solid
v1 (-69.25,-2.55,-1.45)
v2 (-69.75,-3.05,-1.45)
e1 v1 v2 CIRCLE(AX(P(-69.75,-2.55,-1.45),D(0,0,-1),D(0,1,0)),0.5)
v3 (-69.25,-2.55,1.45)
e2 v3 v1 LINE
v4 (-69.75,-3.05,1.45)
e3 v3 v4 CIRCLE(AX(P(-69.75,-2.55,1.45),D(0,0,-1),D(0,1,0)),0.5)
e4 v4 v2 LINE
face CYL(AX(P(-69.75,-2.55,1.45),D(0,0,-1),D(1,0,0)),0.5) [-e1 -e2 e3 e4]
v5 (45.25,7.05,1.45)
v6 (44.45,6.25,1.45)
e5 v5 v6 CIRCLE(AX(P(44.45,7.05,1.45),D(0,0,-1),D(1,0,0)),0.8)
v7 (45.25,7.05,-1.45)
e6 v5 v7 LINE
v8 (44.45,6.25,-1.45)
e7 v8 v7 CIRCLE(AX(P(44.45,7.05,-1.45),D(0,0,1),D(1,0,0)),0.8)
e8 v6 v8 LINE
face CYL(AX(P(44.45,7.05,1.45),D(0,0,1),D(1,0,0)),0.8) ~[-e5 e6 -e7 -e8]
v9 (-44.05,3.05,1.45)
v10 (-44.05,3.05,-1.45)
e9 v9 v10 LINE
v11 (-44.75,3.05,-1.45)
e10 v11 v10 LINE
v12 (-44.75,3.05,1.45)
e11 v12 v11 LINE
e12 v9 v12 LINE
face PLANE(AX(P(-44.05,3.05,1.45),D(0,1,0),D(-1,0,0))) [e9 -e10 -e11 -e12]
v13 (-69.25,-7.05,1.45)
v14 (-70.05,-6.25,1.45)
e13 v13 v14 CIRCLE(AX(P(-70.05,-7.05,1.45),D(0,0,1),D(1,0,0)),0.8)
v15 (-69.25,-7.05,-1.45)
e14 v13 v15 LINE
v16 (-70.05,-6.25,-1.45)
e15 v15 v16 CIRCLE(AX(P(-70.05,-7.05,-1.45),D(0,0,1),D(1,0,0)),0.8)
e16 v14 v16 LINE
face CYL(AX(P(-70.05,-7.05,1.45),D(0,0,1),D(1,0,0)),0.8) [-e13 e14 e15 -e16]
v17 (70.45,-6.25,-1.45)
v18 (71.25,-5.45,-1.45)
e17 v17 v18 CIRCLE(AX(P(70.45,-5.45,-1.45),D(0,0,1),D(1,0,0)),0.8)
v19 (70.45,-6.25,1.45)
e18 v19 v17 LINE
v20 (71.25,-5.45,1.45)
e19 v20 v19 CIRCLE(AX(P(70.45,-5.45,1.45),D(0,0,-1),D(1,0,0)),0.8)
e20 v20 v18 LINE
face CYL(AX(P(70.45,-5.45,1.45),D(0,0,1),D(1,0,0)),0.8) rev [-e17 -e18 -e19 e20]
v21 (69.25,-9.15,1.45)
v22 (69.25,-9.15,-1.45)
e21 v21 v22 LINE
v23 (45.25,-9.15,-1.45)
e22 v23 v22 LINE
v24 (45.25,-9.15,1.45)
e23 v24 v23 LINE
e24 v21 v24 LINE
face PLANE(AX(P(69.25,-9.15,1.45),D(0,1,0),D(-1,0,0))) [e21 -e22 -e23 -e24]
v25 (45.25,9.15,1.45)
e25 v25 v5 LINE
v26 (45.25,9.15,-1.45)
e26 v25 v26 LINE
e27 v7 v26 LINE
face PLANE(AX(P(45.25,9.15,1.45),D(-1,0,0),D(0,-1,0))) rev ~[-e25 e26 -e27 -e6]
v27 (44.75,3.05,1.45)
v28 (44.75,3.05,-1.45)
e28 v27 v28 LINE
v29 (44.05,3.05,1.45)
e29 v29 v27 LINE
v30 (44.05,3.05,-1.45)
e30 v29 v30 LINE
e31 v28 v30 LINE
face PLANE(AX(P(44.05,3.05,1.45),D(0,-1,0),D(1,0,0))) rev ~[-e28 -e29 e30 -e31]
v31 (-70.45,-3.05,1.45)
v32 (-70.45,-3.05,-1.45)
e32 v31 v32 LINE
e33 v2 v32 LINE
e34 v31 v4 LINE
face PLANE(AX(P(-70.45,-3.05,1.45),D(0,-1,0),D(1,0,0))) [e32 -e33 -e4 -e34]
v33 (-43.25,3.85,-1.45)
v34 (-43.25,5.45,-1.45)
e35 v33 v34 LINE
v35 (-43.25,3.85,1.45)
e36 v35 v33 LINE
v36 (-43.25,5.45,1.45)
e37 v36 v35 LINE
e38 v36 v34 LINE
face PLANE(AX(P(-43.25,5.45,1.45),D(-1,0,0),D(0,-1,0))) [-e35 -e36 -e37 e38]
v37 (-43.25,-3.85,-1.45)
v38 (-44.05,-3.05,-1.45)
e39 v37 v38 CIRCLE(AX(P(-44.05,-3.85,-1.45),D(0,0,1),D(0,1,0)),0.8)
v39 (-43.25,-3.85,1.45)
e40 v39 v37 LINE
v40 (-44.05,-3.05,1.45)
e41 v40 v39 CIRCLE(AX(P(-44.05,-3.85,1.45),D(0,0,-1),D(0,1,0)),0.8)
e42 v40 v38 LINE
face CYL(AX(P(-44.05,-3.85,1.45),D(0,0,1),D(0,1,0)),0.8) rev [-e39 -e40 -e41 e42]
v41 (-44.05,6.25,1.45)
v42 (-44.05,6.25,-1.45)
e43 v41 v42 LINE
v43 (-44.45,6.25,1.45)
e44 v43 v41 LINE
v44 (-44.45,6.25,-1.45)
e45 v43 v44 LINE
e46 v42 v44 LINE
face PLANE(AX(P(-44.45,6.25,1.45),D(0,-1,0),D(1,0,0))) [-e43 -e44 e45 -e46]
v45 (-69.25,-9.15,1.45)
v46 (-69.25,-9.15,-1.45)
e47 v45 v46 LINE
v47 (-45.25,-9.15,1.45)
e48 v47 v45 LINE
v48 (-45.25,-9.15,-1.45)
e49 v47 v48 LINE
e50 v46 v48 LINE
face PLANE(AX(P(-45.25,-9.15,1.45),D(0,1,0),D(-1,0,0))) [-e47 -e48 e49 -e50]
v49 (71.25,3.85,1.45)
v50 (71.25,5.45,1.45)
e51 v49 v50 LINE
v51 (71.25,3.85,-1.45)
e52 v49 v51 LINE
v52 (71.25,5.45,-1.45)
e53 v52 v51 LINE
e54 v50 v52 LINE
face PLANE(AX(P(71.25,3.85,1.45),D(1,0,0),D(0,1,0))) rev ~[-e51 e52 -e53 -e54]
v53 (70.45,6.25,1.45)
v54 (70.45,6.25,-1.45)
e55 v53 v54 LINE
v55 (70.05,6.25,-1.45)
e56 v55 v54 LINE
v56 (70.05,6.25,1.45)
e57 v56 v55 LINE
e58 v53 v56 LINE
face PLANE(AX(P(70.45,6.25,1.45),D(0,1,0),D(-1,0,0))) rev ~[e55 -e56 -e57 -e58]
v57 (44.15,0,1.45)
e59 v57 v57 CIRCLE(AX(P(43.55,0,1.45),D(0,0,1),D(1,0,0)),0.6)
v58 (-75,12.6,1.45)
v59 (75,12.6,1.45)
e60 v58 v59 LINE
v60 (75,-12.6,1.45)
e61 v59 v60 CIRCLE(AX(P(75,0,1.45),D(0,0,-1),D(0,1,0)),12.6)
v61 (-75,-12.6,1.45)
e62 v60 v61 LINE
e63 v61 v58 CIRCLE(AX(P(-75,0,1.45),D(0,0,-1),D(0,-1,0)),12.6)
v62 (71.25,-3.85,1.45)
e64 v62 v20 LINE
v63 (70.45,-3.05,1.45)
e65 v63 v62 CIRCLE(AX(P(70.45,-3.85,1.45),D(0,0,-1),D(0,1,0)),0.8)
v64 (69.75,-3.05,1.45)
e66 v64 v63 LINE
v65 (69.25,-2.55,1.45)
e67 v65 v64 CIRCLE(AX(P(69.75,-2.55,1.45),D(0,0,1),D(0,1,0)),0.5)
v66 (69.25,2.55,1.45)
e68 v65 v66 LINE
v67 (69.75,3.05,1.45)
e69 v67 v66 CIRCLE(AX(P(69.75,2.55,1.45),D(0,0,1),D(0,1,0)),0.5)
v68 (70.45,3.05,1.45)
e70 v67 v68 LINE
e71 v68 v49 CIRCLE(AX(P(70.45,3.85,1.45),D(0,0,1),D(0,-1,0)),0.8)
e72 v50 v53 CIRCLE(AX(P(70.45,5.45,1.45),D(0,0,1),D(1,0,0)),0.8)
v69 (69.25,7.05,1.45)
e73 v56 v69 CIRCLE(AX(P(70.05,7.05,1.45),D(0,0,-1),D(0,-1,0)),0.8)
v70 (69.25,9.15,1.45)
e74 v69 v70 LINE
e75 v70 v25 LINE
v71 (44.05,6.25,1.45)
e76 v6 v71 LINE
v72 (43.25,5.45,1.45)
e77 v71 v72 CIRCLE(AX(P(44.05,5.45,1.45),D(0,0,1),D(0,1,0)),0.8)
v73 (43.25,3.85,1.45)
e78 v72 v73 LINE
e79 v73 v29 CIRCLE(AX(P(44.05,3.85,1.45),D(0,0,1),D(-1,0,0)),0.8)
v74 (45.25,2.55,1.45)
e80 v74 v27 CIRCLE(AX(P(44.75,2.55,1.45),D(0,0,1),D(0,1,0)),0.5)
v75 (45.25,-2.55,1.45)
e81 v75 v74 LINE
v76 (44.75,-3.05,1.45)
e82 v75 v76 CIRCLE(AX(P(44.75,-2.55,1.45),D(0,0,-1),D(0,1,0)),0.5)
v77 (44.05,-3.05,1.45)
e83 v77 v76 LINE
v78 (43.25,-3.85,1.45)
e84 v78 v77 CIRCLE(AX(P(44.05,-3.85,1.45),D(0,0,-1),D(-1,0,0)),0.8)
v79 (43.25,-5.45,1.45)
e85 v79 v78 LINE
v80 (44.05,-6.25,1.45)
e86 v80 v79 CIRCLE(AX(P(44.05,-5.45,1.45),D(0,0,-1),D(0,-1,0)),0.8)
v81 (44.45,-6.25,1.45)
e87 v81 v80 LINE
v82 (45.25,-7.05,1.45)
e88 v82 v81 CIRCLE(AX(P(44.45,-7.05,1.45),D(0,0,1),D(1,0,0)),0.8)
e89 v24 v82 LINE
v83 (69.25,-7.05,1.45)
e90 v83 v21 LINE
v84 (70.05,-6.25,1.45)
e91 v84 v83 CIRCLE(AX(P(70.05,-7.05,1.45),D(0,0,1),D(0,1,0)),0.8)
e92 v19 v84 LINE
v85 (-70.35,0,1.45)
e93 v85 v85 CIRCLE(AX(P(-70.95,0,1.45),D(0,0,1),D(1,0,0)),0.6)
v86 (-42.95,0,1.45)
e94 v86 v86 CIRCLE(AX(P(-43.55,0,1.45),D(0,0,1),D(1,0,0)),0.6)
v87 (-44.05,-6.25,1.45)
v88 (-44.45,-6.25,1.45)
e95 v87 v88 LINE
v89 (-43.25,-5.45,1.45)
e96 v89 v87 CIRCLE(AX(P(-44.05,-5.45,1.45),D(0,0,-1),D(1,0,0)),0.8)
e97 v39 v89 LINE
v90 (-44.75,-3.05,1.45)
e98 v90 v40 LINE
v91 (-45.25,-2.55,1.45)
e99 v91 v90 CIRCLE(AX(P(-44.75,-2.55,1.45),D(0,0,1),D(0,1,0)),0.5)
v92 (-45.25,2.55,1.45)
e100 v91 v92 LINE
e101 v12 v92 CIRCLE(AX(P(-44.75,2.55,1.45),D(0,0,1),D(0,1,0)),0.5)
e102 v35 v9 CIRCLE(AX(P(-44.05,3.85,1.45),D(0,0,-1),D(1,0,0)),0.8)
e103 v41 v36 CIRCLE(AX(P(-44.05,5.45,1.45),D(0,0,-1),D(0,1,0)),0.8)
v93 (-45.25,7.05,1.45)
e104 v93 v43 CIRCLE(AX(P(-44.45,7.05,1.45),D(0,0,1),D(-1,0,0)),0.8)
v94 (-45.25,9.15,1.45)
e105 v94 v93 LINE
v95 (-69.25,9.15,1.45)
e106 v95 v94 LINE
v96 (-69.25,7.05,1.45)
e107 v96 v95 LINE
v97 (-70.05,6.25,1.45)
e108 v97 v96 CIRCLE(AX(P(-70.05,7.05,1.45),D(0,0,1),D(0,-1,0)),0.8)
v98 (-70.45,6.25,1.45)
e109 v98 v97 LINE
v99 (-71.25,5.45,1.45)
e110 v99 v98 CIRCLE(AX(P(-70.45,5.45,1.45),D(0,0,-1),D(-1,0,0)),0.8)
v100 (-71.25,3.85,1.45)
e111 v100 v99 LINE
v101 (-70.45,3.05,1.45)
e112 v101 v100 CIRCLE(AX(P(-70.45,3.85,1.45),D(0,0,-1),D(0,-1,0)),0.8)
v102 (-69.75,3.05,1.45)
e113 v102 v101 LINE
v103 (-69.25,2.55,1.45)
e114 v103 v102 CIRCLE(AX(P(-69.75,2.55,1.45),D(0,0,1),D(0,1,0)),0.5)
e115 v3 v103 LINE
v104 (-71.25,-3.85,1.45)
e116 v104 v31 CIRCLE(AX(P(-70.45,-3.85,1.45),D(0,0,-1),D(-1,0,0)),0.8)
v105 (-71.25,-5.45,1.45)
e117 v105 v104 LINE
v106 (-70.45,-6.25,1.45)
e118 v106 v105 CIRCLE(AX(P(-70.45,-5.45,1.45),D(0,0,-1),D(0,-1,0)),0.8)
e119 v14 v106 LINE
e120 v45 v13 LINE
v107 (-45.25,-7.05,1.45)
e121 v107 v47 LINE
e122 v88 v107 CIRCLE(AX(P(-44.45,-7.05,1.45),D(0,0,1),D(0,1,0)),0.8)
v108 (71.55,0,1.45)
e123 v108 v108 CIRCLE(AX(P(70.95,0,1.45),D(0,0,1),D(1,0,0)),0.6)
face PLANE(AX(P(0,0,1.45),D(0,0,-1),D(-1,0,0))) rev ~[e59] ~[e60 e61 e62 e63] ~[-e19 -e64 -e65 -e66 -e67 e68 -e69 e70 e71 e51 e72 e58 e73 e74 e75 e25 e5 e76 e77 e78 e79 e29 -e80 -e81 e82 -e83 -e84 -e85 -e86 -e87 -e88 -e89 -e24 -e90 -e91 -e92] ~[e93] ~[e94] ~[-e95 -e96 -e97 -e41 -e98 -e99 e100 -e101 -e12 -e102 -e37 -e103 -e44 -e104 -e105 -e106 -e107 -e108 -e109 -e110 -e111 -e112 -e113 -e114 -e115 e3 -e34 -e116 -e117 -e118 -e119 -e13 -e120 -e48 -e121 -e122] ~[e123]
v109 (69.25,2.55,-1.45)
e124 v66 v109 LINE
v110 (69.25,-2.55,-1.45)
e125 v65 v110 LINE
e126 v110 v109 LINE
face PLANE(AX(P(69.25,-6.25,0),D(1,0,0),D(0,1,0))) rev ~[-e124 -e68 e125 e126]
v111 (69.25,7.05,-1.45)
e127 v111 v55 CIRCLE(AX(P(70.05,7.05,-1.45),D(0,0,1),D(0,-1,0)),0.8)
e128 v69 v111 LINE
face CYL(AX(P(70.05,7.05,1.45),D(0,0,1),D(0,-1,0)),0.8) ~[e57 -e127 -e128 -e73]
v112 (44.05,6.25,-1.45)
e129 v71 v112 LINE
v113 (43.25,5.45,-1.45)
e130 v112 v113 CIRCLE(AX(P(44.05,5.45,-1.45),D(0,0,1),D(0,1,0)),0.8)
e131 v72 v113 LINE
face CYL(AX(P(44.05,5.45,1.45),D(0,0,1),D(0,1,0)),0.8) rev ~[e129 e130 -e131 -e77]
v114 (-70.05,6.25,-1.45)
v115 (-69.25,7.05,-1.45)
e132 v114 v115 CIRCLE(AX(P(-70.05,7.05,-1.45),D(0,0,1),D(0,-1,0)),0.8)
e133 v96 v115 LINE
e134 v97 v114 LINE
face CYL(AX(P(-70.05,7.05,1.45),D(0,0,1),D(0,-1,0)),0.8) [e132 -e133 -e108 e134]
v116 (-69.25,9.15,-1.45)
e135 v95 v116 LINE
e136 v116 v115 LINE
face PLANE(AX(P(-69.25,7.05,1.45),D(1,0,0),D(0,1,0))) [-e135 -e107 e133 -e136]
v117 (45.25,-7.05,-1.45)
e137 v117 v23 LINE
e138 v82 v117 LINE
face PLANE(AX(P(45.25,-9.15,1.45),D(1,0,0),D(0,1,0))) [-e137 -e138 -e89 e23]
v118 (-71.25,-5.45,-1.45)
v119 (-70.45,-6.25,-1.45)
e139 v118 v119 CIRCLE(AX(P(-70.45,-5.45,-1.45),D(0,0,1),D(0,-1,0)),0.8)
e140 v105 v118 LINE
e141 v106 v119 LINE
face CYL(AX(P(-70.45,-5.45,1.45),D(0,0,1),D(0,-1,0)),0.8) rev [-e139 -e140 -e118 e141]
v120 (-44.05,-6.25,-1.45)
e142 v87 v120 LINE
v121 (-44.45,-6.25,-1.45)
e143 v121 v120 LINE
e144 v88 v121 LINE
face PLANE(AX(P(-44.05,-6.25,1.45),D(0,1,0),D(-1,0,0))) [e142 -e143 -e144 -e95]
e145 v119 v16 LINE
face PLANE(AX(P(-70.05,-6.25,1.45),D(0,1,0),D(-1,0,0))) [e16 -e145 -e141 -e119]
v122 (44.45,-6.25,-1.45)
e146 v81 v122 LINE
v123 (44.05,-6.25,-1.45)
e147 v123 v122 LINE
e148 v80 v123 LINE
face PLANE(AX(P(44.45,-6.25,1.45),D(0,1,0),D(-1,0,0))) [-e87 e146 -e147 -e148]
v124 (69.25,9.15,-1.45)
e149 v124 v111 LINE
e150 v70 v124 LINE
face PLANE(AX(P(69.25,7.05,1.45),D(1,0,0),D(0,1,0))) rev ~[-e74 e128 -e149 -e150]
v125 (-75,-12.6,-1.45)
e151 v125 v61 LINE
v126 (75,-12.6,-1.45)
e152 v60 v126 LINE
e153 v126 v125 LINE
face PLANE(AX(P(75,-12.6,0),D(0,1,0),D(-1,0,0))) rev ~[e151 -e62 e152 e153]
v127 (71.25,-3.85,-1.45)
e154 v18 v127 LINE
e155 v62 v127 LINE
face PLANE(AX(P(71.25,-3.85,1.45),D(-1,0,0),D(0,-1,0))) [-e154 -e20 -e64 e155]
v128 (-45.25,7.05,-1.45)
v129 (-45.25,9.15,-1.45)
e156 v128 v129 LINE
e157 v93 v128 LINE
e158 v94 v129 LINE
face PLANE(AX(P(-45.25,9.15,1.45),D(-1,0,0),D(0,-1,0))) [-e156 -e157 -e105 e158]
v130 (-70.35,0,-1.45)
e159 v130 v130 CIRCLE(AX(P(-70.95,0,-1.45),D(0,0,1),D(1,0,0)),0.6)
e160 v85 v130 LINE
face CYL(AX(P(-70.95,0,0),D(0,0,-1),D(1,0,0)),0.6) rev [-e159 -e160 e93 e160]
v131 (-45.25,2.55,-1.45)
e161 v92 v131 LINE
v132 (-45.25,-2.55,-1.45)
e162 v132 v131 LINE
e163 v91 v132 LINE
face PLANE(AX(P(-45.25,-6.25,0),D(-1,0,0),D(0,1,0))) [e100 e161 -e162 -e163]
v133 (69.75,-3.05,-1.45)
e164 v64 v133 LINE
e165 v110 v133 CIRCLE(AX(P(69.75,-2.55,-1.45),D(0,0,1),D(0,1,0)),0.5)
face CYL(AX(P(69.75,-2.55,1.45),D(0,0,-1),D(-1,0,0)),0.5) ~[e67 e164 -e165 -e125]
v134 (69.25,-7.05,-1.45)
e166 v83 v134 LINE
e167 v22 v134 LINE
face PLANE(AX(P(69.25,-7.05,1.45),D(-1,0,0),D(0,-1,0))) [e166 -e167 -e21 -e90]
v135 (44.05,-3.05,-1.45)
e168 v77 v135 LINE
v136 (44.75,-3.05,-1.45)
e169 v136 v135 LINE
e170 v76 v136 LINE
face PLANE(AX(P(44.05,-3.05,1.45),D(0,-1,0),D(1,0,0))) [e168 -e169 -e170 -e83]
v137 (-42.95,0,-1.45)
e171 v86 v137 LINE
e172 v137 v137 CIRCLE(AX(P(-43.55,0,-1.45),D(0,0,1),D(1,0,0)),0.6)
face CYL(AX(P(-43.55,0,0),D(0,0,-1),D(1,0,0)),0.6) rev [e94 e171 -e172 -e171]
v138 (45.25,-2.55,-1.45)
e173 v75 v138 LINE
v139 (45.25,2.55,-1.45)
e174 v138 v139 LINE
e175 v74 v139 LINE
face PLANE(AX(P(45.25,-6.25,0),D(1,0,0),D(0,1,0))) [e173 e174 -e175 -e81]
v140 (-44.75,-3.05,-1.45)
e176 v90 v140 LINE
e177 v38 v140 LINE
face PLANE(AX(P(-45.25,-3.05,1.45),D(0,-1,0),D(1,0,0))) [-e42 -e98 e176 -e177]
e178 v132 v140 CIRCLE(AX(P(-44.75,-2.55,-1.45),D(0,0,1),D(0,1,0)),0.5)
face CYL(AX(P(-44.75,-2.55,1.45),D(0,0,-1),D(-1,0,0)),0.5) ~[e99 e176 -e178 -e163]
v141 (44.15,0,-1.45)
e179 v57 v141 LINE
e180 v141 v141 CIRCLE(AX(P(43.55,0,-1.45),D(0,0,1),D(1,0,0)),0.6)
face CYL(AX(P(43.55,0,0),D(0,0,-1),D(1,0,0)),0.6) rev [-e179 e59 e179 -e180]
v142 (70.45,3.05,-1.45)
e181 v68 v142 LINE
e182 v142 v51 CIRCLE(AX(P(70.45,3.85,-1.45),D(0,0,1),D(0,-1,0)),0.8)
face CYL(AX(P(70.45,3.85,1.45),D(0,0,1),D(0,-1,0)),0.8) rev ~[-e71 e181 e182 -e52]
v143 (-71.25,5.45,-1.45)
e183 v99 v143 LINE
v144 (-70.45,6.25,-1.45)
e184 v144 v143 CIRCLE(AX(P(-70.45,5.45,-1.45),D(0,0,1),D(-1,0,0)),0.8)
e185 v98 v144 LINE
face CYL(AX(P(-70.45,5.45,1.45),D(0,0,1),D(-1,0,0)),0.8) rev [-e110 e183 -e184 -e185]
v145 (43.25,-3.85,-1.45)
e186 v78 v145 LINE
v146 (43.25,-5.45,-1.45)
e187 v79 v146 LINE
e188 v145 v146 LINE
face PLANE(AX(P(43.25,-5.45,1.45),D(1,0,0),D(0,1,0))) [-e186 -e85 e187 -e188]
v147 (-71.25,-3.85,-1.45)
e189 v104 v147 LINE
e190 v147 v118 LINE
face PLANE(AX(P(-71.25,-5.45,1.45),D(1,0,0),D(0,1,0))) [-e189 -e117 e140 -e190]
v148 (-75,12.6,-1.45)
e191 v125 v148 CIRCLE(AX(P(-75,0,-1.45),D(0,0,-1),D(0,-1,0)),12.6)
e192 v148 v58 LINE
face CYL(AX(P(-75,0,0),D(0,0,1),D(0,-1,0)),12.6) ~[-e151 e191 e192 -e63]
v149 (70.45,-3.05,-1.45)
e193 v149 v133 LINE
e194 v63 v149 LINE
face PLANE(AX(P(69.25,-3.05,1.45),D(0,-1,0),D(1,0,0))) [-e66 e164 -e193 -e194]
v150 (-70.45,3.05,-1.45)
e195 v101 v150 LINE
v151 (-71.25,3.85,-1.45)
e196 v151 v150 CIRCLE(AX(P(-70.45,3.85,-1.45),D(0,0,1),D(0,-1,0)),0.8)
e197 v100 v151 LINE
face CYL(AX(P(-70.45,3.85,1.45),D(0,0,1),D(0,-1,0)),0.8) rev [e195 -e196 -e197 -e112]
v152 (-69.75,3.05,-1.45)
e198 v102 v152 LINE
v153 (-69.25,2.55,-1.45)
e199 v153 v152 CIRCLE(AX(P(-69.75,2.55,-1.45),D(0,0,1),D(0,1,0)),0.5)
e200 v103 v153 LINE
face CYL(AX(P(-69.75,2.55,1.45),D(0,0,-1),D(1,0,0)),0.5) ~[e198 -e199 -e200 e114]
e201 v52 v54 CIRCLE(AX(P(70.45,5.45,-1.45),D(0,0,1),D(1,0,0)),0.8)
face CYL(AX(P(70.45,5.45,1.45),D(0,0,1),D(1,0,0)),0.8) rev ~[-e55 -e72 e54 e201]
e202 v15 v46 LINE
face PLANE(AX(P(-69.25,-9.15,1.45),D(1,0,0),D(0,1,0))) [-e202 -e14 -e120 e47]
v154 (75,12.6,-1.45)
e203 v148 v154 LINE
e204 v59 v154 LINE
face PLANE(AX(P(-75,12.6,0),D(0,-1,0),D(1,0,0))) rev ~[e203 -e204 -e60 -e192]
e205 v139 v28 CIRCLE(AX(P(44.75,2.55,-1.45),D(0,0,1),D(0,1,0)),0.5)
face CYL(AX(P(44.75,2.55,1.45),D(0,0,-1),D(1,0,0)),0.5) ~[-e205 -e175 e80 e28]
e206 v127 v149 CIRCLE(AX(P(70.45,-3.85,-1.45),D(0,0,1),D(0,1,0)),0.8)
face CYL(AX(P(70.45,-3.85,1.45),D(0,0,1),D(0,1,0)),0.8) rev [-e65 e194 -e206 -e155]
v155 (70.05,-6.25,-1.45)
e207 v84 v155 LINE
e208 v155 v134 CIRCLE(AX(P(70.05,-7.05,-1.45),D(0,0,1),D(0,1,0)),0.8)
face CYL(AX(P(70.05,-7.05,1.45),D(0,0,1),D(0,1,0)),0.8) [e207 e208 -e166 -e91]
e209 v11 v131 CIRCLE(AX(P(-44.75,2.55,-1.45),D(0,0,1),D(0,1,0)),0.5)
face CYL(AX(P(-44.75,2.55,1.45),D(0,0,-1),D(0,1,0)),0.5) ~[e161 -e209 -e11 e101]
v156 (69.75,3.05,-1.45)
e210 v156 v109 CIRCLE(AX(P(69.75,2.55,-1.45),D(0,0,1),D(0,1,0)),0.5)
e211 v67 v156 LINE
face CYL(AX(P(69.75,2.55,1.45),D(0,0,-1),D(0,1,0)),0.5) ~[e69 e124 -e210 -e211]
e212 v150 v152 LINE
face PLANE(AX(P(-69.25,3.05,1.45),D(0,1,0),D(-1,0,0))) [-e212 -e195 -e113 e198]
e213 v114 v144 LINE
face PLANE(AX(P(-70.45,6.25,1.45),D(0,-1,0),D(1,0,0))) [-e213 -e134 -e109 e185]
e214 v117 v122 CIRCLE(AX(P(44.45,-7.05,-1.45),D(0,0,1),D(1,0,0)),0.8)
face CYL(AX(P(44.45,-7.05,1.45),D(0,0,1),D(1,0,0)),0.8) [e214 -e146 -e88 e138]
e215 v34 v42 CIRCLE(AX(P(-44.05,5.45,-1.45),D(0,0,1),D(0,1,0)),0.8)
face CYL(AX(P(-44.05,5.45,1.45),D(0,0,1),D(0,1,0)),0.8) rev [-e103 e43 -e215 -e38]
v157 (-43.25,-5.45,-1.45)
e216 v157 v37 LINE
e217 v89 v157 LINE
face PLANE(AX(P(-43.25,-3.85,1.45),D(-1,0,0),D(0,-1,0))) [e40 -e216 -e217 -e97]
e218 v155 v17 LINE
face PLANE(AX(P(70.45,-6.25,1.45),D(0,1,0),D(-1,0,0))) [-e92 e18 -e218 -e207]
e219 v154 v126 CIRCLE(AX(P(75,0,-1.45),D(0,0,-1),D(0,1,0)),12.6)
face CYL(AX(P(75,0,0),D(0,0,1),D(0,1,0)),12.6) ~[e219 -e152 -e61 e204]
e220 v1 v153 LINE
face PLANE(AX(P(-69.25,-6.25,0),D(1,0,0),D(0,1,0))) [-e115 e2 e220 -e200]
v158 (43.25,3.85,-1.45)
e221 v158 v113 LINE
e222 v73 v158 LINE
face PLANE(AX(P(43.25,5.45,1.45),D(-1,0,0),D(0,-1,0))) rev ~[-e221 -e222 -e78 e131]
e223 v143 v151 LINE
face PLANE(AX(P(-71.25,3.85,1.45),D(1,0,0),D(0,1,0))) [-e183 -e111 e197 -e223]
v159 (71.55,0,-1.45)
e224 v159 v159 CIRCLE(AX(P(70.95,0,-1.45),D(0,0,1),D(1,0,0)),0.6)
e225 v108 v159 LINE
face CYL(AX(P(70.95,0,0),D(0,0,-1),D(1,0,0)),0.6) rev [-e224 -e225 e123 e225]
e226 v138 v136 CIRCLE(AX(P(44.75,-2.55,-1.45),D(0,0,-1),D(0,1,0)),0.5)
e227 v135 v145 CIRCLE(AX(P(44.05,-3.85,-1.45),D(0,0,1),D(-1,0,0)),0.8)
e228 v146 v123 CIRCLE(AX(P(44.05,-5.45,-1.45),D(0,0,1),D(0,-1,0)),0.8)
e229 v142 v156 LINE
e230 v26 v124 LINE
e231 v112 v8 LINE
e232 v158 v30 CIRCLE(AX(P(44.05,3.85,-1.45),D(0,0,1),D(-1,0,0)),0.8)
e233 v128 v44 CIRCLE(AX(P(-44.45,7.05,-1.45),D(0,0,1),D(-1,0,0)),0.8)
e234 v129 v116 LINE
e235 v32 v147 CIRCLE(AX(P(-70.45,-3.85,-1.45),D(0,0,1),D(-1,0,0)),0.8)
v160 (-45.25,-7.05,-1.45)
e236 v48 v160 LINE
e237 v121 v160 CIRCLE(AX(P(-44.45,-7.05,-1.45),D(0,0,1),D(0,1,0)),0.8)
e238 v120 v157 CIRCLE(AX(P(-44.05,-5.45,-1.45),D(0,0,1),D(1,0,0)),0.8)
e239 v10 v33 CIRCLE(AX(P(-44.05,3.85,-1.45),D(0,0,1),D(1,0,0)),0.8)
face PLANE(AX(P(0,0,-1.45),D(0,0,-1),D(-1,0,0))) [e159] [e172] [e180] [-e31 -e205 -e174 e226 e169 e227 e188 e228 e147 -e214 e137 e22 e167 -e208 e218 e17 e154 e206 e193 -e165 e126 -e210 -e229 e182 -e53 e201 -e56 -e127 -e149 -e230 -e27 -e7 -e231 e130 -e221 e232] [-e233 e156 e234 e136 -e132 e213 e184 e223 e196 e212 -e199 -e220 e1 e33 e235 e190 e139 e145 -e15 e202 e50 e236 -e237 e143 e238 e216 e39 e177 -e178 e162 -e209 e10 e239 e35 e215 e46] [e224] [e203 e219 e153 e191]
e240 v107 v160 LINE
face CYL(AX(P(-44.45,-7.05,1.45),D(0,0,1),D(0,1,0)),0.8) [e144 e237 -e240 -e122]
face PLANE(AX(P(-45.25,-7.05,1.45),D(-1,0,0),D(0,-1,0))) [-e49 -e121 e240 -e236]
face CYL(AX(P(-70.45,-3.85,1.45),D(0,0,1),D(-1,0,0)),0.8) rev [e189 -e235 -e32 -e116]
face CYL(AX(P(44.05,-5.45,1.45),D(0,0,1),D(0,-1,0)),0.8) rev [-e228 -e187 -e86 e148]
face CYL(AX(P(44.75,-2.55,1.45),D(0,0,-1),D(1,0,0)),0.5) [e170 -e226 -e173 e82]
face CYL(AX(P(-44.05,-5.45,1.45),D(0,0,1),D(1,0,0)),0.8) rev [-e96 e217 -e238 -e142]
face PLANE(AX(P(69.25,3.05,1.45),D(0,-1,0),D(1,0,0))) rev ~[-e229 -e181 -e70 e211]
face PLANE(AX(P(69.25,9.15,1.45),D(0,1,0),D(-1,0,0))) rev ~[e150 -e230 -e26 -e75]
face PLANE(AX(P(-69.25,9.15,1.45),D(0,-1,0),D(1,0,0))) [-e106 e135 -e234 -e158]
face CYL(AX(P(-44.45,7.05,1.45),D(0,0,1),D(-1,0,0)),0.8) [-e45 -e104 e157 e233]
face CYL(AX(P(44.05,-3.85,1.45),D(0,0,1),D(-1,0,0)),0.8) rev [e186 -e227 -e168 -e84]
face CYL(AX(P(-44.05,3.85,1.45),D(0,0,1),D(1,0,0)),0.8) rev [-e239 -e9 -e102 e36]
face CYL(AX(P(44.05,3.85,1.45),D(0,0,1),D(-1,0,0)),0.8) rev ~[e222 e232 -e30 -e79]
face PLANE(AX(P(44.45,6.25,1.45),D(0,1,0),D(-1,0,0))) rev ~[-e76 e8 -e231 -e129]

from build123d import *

# Parameters (mm, degrees)
SKETCH_1_R          = 0.6
SKETCH_1_W          = 24
SKETCH_1_H          = 12.5
EXTRUDE_1_DEPTH     = 1.45
CUT_EXTRUDE_1_DEPTH = 3
FILLET_1_R          = 0.5


with BuildPart() as part:
    # 草图1 → 凸台-拉伸1 (new body, symmetric)
    with BuildSketch(Plane.XY):
        with BuildLine():
            Line((-75, 12.6), (75, 12.6))
            ThreePointArc((75, 12.6), (87.6, 0), (75, -12.6))
            Line((75, -12.6), (-75, -12.6))
            ThreePointArc((-75, -12.6), (-87.6, 0), (-75, 12.6))
        make_face()
        with Locations((-43.55, 0)):
            Circle(SKETCH_1_R, mode=Mode.SUBTRACT)
        with Locations((-70.95, 0)):
            Circle(SKETCH_1_R, mode=Mode.SUBTRACT)
        with Locations((70.95, 0)):
            Circle(SKETCH_1_R, mode=Mode.SUBTRACT)
        with Locations((43.55, 0)):
            Circle(SKETCH_1_R, mode=Mode.SUBTRACT)
        with Locations((-57.25, 0)):
            Rectangle(SKETCH_1_W, SKETCH_1_H, mode=Mode.SUBTRACT)
        with Locations((57.25, 0)):
            Rectangle(SKETCH_1_W, SKETCH_1_H, mode=Mode.SUBTRACT)
    extrude(amount=EXTRUDE_1_DEPTH, both=True)

    # 草图2 → 切除-拉伸1 (cut)
    with BuildSketch(Plane.XY.offset(1.45)):
        with BuildLine():
            Line((44.45, 6.25), (44.05, 6.25))
            ThreePointArc((44.05, 6.25), (43.484314575, 6.015685425), (43.25, 5.45))
            Line((43.25, 5.45), (43.25, 3.85))
            ThreePointArc((43.25, 3.85), (43.484314575, 3.284314575), (44.05, 3.05))
            Line((44.05, 3.05), (45.25, 3.05))
            Line((45.25, 3.05), (45.25, 6.25))
            Line((45.25, 6.25), (69.25, 6.25))
            Line((69.25, 6.25), (69.25, 3.05))
            Line((69.25, 3.05), (70.45, 3.05))
            ThreePointArc((70.45, 3.05), (71.015685425, 3.284314575), (71.25, 3.85))
            Line((71.25, 3.85), (71.25, 5.45))
            ThreePointArc((71.25, 5.45), (71.015685425, 6.015685425), (70.45, 6.25))
            Line((70.45, 6.25), (70.05, 6.25))
            ThreePointArc((70.05, 6.25), (69.484314575, 6.484314575), (69.25, 7.05))
            Line((69.25, 7.05), (69.25, 9.15))
            Line((69.25, 9.15), (45.25, 9.15))
            Line((45.25, 9.15), (45.25, 7.05))
            ThreePointArc((45.25, 7.05), (45.015685425, 6.484314575), (44.45, 6.25))
        make_face()
        with BuildLine():
            Line((44.05, -3.05), (45.25, -3.05))
            Line((45.25, -3.05), (45.25, -6.25))
            Line((45.25, -6.25), (69.25, -6.25))
            Line((69.25, -6.25), (69.25, -3.05))
            Line((69.25, -3.05), (70.45, -3.05))
            ThreePointArc((70.45, -3.05), (71.015685425, -3.284314575), (71.25, -3.85))
            Line((71.25, -3.85), (71.25, -5.45))
            ThreePointArc((71.25, -5.45), (71.015685425, -6.015685425), (70.45, -6.25))
            Line((70.45, -6.25), (70.05, -6.25))
            ThreePointArc((70.05, -6.25), (69.484314575, -6.484314575), (69.25, -7.05))
            Line((69.25, -7.05), (69.25, -9.15))
            Line((69.25, -9.15), (45.25, -9.15))
            Line((45.25, -9.15), (45.25, -7.05))
            ThreePointArc((45.25, -7.05), (45.015685425, -6.484314575), (44.45, -6.25))
            Line((44.45, -6.25), (44.05, -6.25))
            ThreePointArc((44.05, -6.25), (43.484314575, -6.015685425), (43.25, -5.45))
            Line((43.25, -5.45), (43.25, -3.85))
            ThreePointArc((43.25, -3.85), (43.484314575, -3.284314575), (44.05, -3.05))
        make_face()
        with BuildLine():
            Line((-45.25, 3.05), (-45.25, 6.25))
            Line((-45.25, 6.25), (-69.25, 6.25))
            Line((-69.25, 6.25), (-69.25, 3.05))
            Line((-69.25, 3.05), (-70.45, 3.05))
            ThreePointArc((-70.45, 3.05), (-71.015685425, 3.284314575), (-71.25, 3.85))
            Line((-71.25, 3.85), (-71.25, 5.45))
            ThreePointArc((-71.25, 5.45), (-71.015685425, 6.015685425), (-70.45, 6.25))
            Line((-70.45, 6.25), (-70.05, 6.25))
            ThreePointArc((-70.05, 6.25), (-69.484314575, 6.484314575), (-69.25, 7.05))
            Line((-69.25, 7.05), (-69.25, 9.15))
            Line((-69.25, 9.15), (-45.25, 9.15))
            Line((-45.25, 9.15), (-45.25, 7.05))
            ThreePointArc((-45.25, 7.05), (-45.015685425, 6.484314575), (-44.45, 6.25))
            Line((-44.45, 6.25), (-44.05, 6.25))
            ThreePointArc((-44.05, 6.25), (-43.484314575, 6.015685425), (-43.25, 5.45))
            Line((-43.25, 5.45), (-43.25, 3.85))
            ThreePointArc((-43.25, 3.85), (-43.484314575, 3.284314575), (-44.05, 3.05))
            Line((-44.05, 3.05), (-45.25, 3.05))
        make_face()
        with BuildLine():
            Line((-45.25, -7.05), (-45.25, -9.15))
            Line((-45.25, -9.15), (-69.25, -9.15))
            Line((-69.25, -9.15), (-69.25, -7.05))
            ThreePointArc((-69.25, -7.05), (-69.484314575, -6.484314575), (-70.05, -6.25))
            Line((-70.05, -6.25), (-70.45, -6.25))
            ThreePointArc((-70.45, -6.25), (-71.015685425, -6.015685425), (-71.25, -5.45))
            Line((-71.25, -5.45), (-71.25, -3.85))
            ThreePointArc((-71.25, -3.85), (-71.015685425, -3.284314575), (-70.45, -3.05))
            Line((-70.45, -3.05), (-69.25, -3.05))
            Line((-69.25, -3.05), (-69.25, -6.25))
            Line((-69.25, -6.25), (-45.25, -6.25))
            Line((-45.25, -6.25), (-45.25, -3.05))
            Line((-45.25, -3.05), (-44.05, -3.05))
            ThreePointArc((-44.05, -3.05), (-43.484314575, -3.284314575), (-43.25, -3.85))
            Line((-43.25, -3.85), (-43.25, -5.45))
            ThreePointArc((-43.25, -5.45), (-43.484314575, -6.015685425), (-44.05, -6.25))
            Line((-44.05, -6.25), (-44.45, -6.25))
            ThreePointArc((-44.45, -6.25), (-45.015685425, -6.484314575), (-45.25, -7.05))
        make_face()
    extrude(amount=-CUT_EXTRUDE_1_DEPTH, mode=Mode.SUBTRACT)

    # 圆角1
    fillet_1_edges = [part.edges().sort_by_distance(p)[0] for p in [
        (69.25, -3.05, 0),
        (-69.25, 3.05, 0),
        (45.25, -3.05, 0),
        (-45.25, 3.05, 0),
        (-45.25, -3.05, 0),
        (-69.25, -3.05, 0),
        (69.25, 3.05, 0),
        (45.25, 3.05, 0),
    ]]
    fillet(fillet_1_edges, radius=FILLET_1_R)


solid = part.part
